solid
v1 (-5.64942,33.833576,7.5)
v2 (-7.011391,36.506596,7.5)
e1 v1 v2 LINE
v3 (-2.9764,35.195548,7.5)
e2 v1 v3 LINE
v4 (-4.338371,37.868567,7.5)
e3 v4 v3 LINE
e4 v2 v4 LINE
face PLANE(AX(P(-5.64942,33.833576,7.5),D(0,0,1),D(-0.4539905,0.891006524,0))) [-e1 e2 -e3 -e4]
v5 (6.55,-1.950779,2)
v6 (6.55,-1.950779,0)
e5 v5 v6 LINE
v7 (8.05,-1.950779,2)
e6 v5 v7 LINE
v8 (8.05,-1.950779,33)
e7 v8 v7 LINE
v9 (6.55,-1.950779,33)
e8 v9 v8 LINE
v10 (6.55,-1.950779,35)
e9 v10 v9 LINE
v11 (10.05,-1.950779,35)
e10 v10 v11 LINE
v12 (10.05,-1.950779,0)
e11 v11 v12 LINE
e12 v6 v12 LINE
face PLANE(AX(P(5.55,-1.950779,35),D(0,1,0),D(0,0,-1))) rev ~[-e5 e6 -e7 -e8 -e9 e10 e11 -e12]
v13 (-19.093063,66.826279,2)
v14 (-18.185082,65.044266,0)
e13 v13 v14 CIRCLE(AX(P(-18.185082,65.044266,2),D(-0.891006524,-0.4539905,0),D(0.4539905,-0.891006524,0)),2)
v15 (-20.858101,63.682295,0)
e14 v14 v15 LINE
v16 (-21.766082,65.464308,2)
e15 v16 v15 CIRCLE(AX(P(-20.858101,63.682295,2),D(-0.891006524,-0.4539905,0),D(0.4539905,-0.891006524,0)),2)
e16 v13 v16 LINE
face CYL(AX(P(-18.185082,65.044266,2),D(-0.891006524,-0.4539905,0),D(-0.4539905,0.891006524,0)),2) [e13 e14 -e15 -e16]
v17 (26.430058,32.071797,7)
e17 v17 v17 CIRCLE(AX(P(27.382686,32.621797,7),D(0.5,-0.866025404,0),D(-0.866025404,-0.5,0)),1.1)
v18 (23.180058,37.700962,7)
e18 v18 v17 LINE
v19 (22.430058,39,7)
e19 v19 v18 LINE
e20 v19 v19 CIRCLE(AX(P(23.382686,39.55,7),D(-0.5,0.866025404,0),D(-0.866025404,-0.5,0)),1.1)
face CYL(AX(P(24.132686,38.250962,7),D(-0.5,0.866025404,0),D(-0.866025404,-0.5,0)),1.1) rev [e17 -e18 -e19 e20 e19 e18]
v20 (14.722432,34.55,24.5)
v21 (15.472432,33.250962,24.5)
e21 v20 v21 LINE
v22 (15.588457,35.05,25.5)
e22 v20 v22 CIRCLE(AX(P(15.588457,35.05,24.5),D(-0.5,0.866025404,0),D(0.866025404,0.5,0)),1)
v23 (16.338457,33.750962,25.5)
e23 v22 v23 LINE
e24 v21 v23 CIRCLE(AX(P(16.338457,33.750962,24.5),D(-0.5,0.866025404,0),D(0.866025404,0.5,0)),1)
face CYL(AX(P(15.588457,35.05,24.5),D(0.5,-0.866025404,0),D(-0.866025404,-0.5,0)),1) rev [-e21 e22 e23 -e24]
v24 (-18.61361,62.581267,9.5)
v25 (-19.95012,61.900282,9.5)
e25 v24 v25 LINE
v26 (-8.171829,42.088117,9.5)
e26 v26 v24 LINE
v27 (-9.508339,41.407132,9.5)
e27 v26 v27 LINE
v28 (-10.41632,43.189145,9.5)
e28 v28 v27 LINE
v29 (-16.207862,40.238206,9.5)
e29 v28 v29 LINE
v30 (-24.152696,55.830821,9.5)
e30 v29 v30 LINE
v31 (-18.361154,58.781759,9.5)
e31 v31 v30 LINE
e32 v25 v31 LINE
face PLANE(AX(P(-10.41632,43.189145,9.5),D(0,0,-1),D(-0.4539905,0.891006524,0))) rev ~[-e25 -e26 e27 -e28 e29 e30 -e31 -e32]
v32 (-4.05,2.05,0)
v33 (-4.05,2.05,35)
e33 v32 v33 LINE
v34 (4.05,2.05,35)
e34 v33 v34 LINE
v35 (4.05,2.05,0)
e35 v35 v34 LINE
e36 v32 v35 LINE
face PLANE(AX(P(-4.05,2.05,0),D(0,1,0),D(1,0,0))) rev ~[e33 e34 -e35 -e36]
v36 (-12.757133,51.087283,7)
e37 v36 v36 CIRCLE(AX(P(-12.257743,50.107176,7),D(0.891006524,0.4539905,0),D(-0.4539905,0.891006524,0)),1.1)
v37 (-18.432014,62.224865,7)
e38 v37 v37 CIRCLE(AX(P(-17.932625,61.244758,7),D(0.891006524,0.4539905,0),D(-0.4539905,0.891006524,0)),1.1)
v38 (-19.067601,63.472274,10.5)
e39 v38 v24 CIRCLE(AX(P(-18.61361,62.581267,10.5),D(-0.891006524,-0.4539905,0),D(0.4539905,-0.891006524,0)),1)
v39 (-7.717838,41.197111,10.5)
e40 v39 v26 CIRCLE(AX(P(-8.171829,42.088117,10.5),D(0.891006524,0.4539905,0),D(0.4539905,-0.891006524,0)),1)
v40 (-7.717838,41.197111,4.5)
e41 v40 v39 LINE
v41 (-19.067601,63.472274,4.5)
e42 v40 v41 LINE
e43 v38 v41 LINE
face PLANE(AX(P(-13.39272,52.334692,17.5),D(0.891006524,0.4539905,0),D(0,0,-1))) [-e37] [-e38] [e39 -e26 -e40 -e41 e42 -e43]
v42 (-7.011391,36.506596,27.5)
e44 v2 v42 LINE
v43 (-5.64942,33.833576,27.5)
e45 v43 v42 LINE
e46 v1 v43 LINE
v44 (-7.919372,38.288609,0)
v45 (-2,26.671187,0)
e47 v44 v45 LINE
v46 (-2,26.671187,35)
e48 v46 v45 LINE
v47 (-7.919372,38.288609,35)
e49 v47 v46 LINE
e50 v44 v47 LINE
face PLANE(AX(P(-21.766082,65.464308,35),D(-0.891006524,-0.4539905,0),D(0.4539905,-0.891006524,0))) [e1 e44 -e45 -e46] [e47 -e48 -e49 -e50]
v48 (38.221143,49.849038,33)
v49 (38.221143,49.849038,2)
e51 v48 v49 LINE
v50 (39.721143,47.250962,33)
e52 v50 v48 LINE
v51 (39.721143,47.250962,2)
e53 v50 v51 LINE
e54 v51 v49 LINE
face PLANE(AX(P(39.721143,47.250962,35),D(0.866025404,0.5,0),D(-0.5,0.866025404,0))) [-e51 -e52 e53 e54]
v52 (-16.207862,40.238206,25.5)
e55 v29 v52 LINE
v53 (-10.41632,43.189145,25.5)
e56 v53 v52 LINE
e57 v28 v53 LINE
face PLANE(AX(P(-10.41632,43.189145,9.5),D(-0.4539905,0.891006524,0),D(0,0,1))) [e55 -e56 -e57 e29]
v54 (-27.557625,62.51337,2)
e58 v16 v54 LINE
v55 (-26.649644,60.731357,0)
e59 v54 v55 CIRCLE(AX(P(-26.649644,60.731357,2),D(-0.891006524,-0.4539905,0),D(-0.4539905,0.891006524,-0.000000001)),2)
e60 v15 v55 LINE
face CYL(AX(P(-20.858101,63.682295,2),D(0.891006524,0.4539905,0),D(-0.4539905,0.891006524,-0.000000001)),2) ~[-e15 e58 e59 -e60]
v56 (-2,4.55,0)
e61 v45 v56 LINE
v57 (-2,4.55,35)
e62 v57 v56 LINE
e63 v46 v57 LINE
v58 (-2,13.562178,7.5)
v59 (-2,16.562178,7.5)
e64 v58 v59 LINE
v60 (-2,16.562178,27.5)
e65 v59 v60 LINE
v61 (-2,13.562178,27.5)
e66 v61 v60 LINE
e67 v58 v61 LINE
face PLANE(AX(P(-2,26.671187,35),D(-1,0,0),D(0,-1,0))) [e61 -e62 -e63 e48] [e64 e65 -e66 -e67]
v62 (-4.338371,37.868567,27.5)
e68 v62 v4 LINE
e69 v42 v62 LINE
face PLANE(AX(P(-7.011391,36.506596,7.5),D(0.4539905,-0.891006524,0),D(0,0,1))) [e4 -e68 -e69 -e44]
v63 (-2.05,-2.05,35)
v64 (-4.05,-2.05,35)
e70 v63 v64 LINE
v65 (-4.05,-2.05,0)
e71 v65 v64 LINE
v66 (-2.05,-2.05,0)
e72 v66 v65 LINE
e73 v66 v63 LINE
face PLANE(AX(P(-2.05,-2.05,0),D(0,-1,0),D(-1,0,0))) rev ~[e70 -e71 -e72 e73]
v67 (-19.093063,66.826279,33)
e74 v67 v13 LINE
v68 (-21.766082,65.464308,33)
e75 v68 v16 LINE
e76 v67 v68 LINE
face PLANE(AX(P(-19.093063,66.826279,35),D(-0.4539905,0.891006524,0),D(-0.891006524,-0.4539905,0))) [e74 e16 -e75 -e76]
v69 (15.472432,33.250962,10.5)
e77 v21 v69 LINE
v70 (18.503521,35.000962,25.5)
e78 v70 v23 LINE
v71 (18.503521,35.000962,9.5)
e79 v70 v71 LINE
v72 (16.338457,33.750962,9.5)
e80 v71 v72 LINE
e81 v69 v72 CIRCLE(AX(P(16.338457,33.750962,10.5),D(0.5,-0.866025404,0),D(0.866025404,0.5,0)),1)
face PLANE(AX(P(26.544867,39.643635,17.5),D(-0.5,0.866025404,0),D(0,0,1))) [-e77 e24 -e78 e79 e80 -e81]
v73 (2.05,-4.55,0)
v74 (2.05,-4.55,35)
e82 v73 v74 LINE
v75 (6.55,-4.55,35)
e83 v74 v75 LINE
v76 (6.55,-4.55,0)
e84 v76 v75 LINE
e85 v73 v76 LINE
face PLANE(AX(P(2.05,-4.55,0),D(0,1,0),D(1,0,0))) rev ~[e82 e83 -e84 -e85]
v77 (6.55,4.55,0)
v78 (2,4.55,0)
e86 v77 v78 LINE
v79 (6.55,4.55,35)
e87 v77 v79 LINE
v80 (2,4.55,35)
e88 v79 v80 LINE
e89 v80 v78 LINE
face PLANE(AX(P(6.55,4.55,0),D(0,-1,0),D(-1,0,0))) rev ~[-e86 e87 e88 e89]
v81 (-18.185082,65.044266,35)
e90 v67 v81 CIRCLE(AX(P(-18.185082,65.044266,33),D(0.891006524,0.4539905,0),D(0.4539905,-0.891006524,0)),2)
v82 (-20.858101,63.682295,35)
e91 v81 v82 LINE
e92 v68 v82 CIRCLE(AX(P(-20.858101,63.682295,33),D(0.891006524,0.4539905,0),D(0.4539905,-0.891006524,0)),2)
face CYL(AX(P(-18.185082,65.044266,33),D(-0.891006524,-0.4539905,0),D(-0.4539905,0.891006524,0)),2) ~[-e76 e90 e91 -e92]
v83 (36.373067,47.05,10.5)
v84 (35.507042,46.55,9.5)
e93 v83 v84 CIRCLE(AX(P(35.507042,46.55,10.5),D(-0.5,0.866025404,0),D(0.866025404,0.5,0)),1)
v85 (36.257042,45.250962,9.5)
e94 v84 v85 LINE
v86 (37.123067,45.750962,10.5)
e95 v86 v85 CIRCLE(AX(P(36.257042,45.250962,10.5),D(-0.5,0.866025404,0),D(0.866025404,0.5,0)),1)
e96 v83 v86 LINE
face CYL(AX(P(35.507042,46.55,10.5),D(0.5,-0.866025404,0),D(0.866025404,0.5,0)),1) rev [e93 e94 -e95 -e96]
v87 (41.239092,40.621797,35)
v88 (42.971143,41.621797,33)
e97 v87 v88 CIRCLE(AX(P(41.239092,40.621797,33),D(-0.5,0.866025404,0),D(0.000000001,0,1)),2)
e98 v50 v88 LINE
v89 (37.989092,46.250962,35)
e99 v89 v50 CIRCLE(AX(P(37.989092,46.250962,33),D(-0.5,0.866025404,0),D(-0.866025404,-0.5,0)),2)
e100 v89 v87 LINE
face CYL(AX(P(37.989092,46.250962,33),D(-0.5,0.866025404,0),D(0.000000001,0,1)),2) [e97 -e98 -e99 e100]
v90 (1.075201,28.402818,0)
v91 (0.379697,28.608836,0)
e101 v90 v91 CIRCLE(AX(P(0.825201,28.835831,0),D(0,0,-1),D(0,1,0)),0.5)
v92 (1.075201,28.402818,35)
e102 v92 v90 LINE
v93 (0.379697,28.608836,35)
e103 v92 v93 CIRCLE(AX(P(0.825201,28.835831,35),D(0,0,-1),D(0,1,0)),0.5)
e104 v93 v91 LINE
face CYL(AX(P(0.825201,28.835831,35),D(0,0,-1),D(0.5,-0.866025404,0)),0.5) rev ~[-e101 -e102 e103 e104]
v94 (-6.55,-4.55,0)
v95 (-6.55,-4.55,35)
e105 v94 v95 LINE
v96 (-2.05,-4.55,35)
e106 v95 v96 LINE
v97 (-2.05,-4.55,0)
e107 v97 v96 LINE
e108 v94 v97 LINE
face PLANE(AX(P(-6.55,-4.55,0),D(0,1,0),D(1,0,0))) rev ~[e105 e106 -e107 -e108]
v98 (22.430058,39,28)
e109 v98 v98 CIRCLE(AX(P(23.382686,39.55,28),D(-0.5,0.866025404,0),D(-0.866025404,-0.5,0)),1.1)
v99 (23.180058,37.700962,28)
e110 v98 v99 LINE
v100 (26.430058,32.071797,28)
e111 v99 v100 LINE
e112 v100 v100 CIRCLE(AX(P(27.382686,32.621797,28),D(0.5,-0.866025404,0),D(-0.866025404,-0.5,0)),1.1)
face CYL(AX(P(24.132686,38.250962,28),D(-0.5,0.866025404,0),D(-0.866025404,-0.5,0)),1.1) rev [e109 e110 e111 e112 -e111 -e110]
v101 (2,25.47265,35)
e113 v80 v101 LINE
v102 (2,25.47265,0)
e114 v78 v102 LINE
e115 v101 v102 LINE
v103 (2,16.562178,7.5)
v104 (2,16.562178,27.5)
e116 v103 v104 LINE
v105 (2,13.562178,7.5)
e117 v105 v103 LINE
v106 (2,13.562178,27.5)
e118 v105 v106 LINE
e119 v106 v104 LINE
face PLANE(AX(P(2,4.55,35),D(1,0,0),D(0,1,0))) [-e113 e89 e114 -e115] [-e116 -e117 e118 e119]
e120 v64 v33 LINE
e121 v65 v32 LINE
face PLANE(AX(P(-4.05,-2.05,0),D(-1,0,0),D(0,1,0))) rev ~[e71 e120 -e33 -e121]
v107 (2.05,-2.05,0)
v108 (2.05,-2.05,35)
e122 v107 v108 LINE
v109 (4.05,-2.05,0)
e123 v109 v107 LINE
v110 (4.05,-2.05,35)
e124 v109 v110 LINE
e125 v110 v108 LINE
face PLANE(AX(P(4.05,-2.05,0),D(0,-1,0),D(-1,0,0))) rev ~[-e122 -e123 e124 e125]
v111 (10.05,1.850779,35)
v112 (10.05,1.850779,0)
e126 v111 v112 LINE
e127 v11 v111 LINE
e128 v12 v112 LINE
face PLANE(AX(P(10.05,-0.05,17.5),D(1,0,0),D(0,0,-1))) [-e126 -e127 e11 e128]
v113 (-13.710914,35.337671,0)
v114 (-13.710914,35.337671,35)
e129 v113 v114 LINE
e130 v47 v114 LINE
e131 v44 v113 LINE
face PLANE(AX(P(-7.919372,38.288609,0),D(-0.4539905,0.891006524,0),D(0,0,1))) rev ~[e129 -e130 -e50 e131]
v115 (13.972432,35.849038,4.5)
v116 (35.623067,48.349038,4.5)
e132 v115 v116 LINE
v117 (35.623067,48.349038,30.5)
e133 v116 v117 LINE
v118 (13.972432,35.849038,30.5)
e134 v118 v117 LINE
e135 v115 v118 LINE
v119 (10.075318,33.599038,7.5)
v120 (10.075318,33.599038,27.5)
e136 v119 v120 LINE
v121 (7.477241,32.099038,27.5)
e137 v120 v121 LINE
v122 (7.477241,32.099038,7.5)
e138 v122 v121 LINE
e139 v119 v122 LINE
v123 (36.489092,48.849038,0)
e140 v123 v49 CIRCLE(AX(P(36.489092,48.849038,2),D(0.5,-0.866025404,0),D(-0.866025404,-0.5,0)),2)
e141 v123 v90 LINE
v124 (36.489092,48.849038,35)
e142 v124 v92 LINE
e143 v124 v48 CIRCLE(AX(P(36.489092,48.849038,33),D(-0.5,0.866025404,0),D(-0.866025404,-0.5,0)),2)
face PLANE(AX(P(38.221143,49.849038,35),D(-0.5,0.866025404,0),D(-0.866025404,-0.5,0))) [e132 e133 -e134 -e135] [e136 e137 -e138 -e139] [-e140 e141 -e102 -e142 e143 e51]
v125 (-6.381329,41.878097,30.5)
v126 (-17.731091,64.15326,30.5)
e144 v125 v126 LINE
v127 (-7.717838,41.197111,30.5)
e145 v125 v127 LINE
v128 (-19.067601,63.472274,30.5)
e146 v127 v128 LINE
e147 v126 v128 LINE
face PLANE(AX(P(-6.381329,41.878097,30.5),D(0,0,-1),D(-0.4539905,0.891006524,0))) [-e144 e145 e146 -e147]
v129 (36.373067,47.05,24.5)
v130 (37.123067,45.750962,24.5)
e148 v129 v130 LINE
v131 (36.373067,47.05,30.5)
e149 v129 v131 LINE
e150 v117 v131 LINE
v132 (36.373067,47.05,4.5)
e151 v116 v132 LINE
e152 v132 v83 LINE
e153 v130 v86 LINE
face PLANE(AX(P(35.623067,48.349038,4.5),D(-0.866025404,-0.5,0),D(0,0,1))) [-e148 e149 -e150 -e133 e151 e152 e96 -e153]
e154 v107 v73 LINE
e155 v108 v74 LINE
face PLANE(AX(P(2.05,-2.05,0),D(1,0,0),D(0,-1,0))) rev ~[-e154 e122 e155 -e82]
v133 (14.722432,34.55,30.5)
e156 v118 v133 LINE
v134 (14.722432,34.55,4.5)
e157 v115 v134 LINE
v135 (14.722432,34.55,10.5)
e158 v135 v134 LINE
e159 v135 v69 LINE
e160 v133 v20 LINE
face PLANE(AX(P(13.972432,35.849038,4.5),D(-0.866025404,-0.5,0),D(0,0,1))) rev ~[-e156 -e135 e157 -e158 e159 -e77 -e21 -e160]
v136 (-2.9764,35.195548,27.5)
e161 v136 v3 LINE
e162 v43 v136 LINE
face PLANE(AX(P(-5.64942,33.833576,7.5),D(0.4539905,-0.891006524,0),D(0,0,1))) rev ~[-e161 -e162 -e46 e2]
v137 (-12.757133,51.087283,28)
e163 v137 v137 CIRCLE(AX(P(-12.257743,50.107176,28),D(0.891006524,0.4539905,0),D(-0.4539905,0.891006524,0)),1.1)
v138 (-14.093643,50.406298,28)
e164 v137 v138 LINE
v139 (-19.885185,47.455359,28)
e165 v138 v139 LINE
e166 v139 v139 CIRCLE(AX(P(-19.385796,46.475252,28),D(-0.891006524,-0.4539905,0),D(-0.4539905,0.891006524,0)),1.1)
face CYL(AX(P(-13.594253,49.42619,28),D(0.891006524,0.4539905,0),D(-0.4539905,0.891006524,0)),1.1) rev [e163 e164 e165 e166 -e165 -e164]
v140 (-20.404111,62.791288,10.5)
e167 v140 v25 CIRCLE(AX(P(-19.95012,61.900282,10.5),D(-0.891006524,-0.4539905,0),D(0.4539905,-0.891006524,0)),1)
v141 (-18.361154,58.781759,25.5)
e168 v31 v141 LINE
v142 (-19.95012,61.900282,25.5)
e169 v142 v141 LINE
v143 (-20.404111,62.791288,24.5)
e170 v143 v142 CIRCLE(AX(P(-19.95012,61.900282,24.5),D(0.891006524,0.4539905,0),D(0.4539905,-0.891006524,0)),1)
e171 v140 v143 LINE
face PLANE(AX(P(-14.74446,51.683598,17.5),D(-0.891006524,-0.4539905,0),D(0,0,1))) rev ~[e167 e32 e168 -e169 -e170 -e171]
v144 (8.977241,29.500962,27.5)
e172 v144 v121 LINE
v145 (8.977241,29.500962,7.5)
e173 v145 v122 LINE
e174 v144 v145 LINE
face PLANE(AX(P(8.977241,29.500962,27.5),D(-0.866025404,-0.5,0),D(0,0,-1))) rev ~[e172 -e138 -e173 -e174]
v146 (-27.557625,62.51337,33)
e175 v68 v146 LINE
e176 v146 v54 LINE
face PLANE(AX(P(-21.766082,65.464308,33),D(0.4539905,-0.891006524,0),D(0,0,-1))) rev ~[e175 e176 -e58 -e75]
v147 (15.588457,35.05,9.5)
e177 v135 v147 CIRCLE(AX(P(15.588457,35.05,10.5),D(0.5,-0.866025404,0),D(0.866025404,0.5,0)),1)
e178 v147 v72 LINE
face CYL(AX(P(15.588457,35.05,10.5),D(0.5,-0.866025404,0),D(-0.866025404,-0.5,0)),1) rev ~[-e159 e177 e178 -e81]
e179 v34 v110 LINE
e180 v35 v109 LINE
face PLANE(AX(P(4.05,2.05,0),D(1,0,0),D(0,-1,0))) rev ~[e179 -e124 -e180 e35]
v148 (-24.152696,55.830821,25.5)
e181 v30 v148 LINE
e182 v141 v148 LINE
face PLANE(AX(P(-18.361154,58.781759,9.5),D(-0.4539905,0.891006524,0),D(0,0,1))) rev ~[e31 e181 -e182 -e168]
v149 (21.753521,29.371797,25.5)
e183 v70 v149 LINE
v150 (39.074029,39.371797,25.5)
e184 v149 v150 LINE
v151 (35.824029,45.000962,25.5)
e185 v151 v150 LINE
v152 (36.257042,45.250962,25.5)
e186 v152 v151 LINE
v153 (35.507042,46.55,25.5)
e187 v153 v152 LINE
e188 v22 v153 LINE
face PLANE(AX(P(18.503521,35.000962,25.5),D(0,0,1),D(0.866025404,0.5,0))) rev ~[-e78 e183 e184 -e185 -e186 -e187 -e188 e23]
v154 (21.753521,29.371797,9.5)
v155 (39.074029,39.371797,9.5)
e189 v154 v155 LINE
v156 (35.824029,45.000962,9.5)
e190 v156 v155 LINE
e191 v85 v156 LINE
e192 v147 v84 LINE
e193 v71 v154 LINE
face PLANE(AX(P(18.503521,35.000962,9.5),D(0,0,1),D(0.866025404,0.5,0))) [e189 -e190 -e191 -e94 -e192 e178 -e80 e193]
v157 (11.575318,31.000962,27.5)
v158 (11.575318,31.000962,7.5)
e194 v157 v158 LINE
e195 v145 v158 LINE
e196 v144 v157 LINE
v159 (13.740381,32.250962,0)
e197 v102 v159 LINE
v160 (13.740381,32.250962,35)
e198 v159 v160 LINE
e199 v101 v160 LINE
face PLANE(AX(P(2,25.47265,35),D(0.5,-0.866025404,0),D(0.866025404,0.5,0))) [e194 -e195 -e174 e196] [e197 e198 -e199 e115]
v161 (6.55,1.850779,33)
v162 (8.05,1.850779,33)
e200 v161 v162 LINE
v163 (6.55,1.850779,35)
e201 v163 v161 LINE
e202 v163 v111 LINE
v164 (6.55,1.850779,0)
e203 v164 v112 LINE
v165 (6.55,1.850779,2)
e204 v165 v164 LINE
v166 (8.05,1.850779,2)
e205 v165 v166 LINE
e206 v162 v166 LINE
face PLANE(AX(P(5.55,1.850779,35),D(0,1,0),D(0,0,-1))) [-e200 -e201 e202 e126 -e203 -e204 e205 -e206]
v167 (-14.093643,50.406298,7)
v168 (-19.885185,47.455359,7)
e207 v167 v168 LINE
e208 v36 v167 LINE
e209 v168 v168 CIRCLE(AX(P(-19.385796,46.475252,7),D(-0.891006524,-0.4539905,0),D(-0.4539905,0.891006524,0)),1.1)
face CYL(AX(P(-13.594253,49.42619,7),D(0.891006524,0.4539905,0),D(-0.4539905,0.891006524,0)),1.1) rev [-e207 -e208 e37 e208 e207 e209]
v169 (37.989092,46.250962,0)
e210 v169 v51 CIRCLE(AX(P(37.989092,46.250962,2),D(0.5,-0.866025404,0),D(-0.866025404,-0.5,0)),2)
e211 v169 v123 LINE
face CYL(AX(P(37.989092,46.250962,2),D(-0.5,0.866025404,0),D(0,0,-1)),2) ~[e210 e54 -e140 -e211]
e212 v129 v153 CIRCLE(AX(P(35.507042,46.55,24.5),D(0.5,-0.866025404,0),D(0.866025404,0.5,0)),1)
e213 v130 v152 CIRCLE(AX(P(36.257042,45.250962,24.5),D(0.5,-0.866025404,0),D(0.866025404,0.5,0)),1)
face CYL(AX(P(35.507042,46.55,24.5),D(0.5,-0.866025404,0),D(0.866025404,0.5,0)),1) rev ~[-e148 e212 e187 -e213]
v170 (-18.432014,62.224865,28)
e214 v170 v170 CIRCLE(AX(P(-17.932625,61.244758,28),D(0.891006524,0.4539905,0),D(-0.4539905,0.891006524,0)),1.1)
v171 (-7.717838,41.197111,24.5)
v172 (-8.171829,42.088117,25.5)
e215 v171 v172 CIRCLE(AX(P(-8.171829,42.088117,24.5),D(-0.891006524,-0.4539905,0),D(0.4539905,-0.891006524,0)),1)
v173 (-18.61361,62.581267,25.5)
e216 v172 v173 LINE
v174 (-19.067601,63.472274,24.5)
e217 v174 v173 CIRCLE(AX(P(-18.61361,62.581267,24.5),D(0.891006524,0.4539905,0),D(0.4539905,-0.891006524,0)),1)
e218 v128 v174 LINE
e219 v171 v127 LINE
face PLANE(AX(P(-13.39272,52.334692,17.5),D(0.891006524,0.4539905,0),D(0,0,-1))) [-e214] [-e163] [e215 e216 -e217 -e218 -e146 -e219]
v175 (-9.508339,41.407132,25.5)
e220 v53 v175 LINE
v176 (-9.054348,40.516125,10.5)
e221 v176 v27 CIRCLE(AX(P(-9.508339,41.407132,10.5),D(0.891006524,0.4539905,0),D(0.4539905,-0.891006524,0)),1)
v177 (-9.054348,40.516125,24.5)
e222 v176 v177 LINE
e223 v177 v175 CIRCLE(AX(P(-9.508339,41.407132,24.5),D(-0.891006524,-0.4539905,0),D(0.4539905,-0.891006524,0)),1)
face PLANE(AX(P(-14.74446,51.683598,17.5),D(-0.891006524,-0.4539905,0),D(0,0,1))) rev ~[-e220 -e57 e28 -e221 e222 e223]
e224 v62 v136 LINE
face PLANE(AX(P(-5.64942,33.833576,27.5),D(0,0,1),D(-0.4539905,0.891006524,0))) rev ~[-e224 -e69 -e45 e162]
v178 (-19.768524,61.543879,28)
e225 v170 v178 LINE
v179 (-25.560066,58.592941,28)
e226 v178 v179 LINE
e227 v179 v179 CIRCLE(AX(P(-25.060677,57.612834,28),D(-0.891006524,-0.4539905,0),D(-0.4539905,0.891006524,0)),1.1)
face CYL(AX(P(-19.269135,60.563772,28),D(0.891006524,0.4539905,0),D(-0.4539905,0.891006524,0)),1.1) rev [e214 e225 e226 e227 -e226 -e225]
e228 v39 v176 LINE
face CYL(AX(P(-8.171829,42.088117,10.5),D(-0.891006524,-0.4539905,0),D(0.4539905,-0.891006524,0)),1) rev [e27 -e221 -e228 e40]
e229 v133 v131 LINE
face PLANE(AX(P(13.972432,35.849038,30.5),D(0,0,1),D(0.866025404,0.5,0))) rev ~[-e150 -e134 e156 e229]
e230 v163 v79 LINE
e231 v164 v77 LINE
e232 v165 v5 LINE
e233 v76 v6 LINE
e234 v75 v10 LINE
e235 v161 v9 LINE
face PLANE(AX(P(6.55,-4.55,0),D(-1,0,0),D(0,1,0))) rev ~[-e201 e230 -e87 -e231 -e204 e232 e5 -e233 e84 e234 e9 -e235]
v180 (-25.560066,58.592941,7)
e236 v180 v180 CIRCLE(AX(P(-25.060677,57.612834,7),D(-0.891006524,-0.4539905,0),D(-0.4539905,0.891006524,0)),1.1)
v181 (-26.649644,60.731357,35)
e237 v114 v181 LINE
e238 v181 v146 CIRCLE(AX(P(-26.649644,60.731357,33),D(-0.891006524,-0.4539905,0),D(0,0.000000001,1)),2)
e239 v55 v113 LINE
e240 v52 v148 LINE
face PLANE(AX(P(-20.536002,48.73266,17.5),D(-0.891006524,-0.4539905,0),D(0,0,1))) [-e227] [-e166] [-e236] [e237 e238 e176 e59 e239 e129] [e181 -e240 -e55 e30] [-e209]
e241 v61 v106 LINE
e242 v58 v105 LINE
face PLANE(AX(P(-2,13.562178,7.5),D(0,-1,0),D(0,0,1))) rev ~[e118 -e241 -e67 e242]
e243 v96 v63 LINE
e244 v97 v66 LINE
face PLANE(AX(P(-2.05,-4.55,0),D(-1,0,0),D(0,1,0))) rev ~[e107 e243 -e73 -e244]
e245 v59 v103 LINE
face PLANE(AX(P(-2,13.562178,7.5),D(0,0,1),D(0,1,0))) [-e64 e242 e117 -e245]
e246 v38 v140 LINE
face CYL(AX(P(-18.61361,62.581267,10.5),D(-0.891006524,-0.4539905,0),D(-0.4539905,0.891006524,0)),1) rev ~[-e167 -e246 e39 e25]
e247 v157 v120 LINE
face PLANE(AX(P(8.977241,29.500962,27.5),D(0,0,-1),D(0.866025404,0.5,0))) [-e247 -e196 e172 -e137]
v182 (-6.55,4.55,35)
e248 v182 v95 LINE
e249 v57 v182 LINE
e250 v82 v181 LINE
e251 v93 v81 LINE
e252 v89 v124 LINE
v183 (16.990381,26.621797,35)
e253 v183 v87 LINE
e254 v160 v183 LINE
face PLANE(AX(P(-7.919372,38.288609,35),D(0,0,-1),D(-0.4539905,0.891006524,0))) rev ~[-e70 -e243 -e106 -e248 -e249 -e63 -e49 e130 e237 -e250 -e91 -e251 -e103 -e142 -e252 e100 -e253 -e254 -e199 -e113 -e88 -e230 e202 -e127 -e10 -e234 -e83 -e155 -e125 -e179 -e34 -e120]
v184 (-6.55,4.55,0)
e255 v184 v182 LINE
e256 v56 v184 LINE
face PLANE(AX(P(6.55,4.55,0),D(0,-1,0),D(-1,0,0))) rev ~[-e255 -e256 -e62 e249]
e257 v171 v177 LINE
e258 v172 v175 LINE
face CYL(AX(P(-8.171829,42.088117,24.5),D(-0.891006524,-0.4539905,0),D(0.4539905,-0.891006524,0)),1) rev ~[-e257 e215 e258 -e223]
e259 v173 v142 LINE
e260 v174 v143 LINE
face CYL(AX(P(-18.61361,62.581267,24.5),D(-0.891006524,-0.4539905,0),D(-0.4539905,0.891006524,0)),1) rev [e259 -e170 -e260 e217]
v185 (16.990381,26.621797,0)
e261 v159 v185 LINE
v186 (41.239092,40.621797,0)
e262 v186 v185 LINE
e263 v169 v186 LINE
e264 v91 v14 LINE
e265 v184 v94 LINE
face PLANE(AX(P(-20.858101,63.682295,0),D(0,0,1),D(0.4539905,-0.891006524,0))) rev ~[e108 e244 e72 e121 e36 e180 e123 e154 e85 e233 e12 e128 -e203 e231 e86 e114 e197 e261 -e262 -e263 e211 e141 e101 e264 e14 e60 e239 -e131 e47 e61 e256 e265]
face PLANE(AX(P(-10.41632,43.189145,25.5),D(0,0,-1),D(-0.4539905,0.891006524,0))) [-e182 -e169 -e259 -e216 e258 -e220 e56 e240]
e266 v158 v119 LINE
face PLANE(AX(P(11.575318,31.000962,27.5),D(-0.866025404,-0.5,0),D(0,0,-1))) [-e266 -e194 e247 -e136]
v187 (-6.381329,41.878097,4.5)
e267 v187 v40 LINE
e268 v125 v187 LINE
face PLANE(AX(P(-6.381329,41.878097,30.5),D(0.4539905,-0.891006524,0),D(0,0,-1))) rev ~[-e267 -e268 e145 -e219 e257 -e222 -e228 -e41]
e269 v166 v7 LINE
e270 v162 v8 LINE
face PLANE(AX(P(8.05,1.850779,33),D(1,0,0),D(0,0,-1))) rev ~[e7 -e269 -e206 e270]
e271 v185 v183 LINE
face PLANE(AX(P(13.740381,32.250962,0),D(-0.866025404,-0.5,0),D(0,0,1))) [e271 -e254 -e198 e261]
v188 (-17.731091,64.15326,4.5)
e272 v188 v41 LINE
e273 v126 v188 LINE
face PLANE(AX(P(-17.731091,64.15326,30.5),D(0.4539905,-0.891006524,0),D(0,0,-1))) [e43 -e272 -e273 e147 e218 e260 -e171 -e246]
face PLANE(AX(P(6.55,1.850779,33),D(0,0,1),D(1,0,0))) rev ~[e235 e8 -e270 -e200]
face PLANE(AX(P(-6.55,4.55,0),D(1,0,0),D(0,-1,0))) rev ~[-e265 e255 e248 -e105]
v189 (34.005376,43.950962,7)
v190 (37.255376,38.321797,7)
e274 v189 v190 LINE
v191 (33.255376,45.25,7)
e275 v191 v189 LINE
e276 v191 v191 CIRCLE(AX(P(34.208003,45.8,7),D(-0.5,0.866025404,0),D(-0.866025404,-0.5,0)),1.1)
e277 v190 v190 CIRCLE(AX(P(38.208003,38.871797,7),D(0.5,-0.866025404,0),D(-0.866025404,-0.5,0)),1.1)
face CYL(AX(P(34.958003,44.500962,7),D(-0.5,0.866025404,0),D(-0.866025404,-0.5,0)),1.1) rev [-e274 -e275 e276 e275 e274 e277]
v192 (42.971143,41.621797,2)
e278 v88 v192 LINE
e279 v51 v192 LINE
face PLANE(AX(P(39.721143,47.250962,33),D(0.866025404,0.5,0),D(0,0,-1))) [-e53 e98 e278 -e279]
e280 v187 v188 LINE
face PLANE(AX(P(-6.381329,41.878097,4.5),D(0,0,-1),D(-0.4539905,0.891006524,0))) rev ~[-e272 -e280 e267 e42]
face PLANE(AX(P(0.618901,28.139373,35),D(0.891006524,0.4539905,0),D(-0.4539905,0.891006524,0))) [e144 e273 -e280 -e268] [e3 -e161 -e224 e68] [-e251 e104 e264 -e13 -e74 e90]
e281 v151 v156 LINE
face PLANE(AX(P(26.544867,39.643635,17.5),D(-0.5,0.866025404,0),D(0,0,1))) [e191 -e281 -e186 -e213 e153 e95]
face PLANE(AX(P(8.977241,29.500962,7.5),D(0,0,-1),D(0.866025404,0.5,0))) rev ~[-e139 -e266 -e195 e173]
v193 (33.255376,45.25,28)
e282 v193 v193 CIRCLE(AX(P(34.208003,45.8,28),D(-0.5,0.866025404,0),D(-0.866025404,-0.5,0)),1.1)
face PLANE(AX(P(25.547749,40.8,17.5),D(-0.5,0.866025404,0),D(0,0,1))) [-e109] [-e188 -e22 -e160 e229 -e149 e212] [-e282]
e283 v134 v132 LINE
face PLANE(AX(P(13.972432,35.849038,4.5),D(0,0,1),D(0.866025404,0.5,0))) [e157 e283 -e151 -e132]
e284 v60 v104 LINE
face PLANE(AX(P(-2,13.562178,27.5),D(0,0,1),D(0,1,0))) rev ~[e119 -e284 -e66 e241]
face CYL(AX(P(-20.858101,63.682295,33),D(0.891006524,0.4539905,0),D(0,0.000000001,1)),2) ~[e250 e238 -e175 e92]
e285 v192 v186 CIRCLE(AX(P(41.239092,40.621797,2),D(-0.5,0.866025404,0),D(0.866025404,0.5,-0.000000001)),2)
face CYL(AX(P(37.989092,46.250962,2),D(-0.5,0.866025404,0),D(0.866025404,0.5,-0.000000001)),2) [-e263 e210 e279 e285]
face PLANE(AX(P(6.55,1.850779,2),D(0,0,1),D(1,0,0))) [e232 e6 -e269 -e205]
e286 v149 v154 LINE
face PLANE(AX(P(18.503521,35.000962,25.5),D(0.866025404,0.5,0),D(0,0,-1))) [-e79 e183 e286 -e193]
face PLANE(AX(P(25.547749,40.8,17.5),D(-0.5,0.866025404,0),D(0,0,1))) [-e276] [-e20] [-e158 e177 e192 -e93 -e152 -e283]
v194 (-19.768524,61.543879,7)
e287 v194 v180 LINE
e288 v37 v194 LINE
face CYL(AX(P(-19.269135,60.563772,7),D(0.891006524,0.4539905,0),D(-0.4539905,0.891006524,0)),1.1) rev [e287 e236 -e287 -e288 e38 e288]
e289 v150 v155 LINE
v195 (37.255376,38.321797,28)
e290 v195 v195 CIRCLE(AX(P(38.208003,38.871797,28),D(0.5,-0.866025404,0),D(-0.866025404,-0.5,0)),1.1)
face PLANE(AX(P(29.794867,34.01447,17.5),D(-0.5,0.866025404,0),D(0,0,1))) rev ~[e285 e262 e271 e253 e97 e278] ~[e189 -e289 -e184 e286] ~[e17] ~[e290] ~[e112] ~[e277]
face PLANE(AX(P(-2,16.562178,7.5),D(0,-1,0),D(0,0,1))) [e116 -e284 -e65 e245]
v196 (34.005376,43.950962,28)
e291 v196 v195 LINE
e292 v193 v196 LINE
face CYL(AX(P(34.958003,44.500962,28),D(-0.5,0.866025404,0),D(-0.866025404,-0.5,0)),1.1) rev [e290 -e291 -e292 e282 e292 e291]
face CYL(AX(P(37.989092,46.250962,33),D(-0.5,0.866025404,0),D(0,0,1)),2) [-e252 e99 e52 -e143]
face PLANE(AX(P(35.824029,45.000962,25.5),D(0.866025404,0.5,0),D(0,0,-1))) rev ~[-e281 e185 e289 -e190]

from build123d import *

# Parameters (mm, degrees)
BOSS_EXTRUDE1_DEPTH      = 35
BOSS_EXTRUDE2_DEPTH      = 35
FILLET1_R                = 0.5
SKETCH3_W                = 26
SKETCH3_H                = 25
CUT_EXTRUDE1_DEPTH       = 1.5
SKETCH4_W                = 16
SKETCH4_H                = 25
CUT_EXTRUDE2_DEPTH       = 2
FILLET3_R                = 1
SKETCH5_W                = 26
SKETCH5_H                = 25
CUT_EXTRUDE3_DEPTH       = 1.5
SKETCH6_W                = 16
SKETCH6_H                = 25
CUT_EXTRUDE4_DEPTH       = 2
FILLET4_R                = 1
SKETCH8_W                = 20
SKETCH8_H                = 3
CUT_EXTRUDE5_DEPTH       = 4
SKETCH9_W                = 20
SKETCH9_H                = 3
CUT_EXTRUDE6_DEPTH       = 4
SKETCH10_W               = 20
SKETCH10_H               = 3
CUT_EXTRUDE7_DEPTH       = 4
SKETCH11_R               = 1.1
CUT_EXTRUDE8_DEPTH       = 10
SKETCH12_R               = 1.1
CUT_EXTRUDE9_DEPTH       = 5
FILLET7_R                = 2
BOSS_EXTRUDE3_DEPTH      = 3.5
BOSS_EXTRUDE3_DEPTH_BACK = 1
SKETCH14_W               = 35
SKETCH14_H               = 3.801557548
SKETCH15_W               = 1.5
SKETCH15_H               = 31
CUT_EXTRUDE10_DEPTH      = 5
SKETCH18_R               = 1.1
SKETCH18_W               = 16
SKETCH18_H               = 20
BOSS_EXTRUDE4_DEPTH      = 6.5
SKETCH19_R               = 1.1
SKETCH19_W               = 16
SKETCH19_H               = 17.5
BOSS_EXTRUDE5_DEPTH      = 6.5


with BuildPart() as part:
    # Sketch1 → Boss-Extrude1 (new body)
    with BuildSketch(Plane.XY):
        Polygon((6.55, 4.55), (-6.55, 4.55), (-6.55, -4.55), (-2.05, -4.55), (-2.05, -2.05), (-4.05, -2.05), (-4.05, 2.05), (4.05, 2.05), (4.05, -2.05), (2.05, -2.05), (2.05, -4.55), (6.55, -4.55), align=None)
    extrude(amount=BOSS_EXTRUDE1_DEPTH)

    # Sketch2 → Boss-Extrude2 (add, through all)
    with BuildSketch(Plane.XY.offset(35)):
        Polygon((2, 4.55), (2, 25.472649731), (39.72114317, 47.250961894), (38.22114317, 49.849038106), (0.618900538, 28.1393732), (-19.093062702, 66.826279338), (-21.766082275, 65.464307839), (-2, 26.671187114), (-2, 4.55), align=None)
    extrude(amount=-BOSS_EXTRUDE2_DEPTH)

    # Fillet1
    fillet1_edges = [part.edges().sort_by_distance(p)[0] for p in [
        (0.618900538, 28.1393732, 17.5),
    ]]
    fillet(fillet1_edges, radius=FILLET1_R)

    # Sketch3 → Cut-Extrude1 (cut)
    with BuildSketch(Plane(origin=(-12.029980884, 20.836538106, 0), x_dir=(0, 0, 1), z_dir=(-0.4999999999999978, 0.8660254037844398, 0))):
        with Locations((17.5, 42.525)):
            Rectangle(SKETCH3_W, SKETCH3_H)
    extrude(amount=-CUT_EXTRUDE1_DEPTH, mode=Mode.SUBTRACT)

    # Sketch4 → Cut-Extrude2 (cut)
    with BuildSketch(Plane(origin=(-11.279980884, 19.5375, 0), x_dir=(0, 0, 1), z_dir=(-0.49999999999999795, 0.8660254037844399, 0))):
        with Locations((17.5, 42.525)):
            Rectangle(SKETCH4_W, SKETCH4_H)
    extrude(amount=-CUT_EXTRUDE2_DEPTH, mode=Mode.SUBTRACT)

    # Fillet3
    fillet3_edges = [part.edges().sort_by_distance(p)[0] for p in [
        (36.748066959, 46.400480947, 9.5),
        (36.748066959, 46.400480947, 25.5),
        (15.097431864, 33.900480947, 25.5),
        (15.097431864, 33.900480947, 9.5),
    ]]
    fillet(fillet3_edges, radius=FILLET3_R)

    # Sketch5 → Cut-Extrude3 (cut)
    with BuildSketch(Plane(origin=(11.873956138, 6.050082838, 0), x_dir=(0, 0, -1), z_dir=(0.8910065241883675, 0.45399049973954786, 0))):
        with Locations((-17.5, 52.710719955)):
            Rectangle(SKETCH5_W, SKETCH5_H)
    extrude(amount=-CUT_EXTRUDE3_DEPTH, mode=Mode.SUBTRACT)

    # Sketch6 → Cut-Extrude4 (cut)
    with BuildSketch(Plane(origin=(10.537446352, 5.369097089, 0), x_dir=(0, 0, -1), z_dir=(0.8910065241883673, 0.4539904997395479, 0))):
        with Locations((-17.5, 52.710719955)):
            Rectangle(SKETCH6_W, SKETCH6_H)
    extrude(amount=-CUT_EXTRUDE4_DEPTH, mode=Mode.SUBTRACT)

    # Fillet4
    fillet4_edges = [part.edges().sort_by_distance(p)[0] for p in [
        (-19.735855882, 63.131781141, 25.5),
        (-19.735855882, 63.131781141, 9.5),
        (-8.386093389, 40.856618036, 9.5),
        (-8.386093389, 40.856618036, 25.5),
    ]]
    fillet(fillet4_edges, radius=FILLET4_R)

    # Sketch8 → Cut-Extrude5 (cut)
    with BuildSketch(Plane(origin=(-10.529980884, 18.238461894, 0), x_dir=(0, 0, -1), z_dir=(0.49999999999999806, -0.8660254037844399, 0))):
        with Locations((-17.5, 24.025)):
            Rectangle(SKETCH8_W, SKETCH8_H)
    extrude(amount=-CUT_EXTRUDE5_DEPTH, mode=Mode.SUBTRACT)

    # Sketch9 → Cut-Extrude6 (cut)
    with BuildSketch(Plane(origin=(9.200936565, 4.688111339, 0), x_dir=(0, 0, 1), z_dir=(-0.8910065241883675, -0.45399049973954797, 0))):
        with Locations((17.5, 34.210719955)):
            Rectangle(SKETCH9_W, SKETCH9_H)
    extrude(amount=-CUT_EXTRUDE6_DEPTH, mode=Mode.SUBTRACT)

    # Sketch10 → Cut-Extrude7 (cut)
    with BuildSketch(Plane.ZY.offset(2)):
        with Locations((17.5, 15.062177826)):
            Rectangle(SKETCH10_W, SKETCH10_H)
    extrude(amount=-CUT_EXTRUDE7_DEPTH, mode=Mode.SUBTRACT)

    # Sketch11 → Cut-Extrude8 (cut)
    with BuildSketch(Plane(origin=(-11.279980884, 19.5375, 0), x_dir=(0, 0, 1), z_dir=(-0.4999999999999979, 0.8660254037844398, 0))):
        with Locations(Location((28, 52.525, 0), (0, 0, 270))):
            Circle(SKETCH11_R)
        with Locations(Location((7, 52.525, 0), (0, 0, 270))):
            Circle(SKETCH11_R)
        with Locations(Location((28, 40.025, 0), (0, 0, 270))):
            Circle(SKETCH11_R)
        with Locations(Location((7, 40.025, 0), (0, 0, 270))):
            Circle(SKETCH11_R)
    extrude(amount=-CUT_EXTRUDE8_DEPTH, mode=Mode.SUBTRACT)

    # Sketch12 → Cut-Extrude9 (cut)
    with BuildSketch(Plane(origin=(10.537446352, 5.369097089, 0), x_dir=(0, 0, -1), z_dir=(0.8910065241883673, 0.4539904997395479, 0))):
        with Locations(Location((-7, 62.710719955, 0), (0, 0, 90))):
            Circle(SKETCH12_R)
        with Locations(Location((-28, 62.710719955, 0), (0, 0, 90))):
            Circle(SKETCH12_R)
        with Locations(Location((-7, 50.210719955, 0), (0, 0, 90))):
            Circle(SKETCH12_R)
        with Locations(Location((-28, 50.210719955, 0), (0, 0, 90))):
            Circle(SKETCH12_R)
    extrude(amount=-CUT_EXTRUDE9_DEPTH, mode=Mode.SUBTRACT)

    # Fillet7
    fillet7_edges = [part.edges().sort_by_distance(p)[0] for p in [
        (-20.429572488, 66.145293588, 0),
        (38.97114317, 48.55, 0),
        (38.97114317, 48.55, 35),
        (-20.429572488, 66.145293588, 35),
    ]]
    fillet(fillet7_edges, radius=FILLET7_R)

    # Sketch14 → Boss-Extrude3 (add, two sides: drawn at the far end of the back side and taken through both)
    with BuildSketch(Plane(origin=(6.55, 0, 0), x_dir=(0, 0, -1), z_dir=(1, 0, 0)).offset(-BOSS_EXTRUDE3_DEPTH_BACK)):
        with Locations((-17.5, -0.05)):
            Rectangle(SKETCH14_W, SKETCH14_H)
    extrude(amount=BOSS_EXTRUDE3_DEPTH + BOSS_EXTRUDE3_DEPTH_BACK)

    # Sketch15 → Cut-Extrude10 (cut)
    with BuildSketch(Plane(origin=(0, 1.850778774, 0), x_dir=(1, 0, 0), z_dir=(0, 1, 0))):
        with Locations((7.3, -17.5)):
            Rectangle(SKETCH15_W, SKETCH15_H)
    extrude(amount=-CUT_EXTRUDE10_DEPTH, mode=Mode.SUBTRACT)

    # Sketch18 → Boss-Extrude4 (add)
    with BuildSketch(Plane(origin=(-10.529980884, 18.238461894, 0), x_dir=(0, 0, -1), z_dir=(0.49999999999999806, -0.8660254037844398, 0))):
        with BuildLine():
            Line((-35, 28.025), (-35, 56.025))
            ThreePointArc((-35, 56.025), (-34.414213562, 57.439213562), (-33, 58.025))
            Line((-33, 58.025), (-2, 58.025))
            ThreePointArc((-2, 58.025), (-0.585786438, 57.439213562), (0, 56.025))
            Line((0, 56.025), (0, 28.025))
            Line((0, 28.025), (-35, 28.025))
        make_face()
        with Locations(Location((-7, 52.525, 0), (0, 0, 270))):
            Circle(SKETCH18_R, mode=Mode.SUBTRACT)
        with Locations(Location((-7, 40.025, 0), (0, 0, 270))):
            Circle(SKETCH18_R, mode=Mode.SUBTRACT)
        with Locations(Location((-28, 40.025, 0), (0, 0, 270))):
            Circle(SKETCH18_R, mode=Mode.SUBTRACT)
        with Locations(Location((-28, 52.525, 0), (0, 0, 270))):
            Circle(SKETCH18_R, mode=Mode.SUBTRACT)
        with Locations((-17.5, 43.525)):
            Rectangle(SKETCH18_W, SKETCH18_H, mode=Mode.SUBTRACT)
    extrude(amount=BOSS_EXTRUDE4_DEPTH)

    # Sketch19 → Boss-Extrude5 (add)
    with BuildSketch(Plane(origin=(9.200936565, 4.688111339, 0), x_dir=(0, 0, 1), z_dir=(-0.8910065241883673, -0.45399049973954797, 0))):
        with BuildLine():
            Line((33, 68.210719955), (2, 68.210719955))
            ThreePointArc((2, 68.210719955), (0.585786438, 67.624933517), (0, 66.210719955))
            Line((0, 66.210719955), (0, 37.710719955))
            Line((0, 37.710719955), (35, 37.710719955))
            Line((35, 37.710719955), (35, 66.210719955))
            ThreePointArc((35, 66.210719955), (34.414213562, 67.624933517), (33, 68.210719955))
        make_face()
        with Locations(Location((28, 50.210719955, 0), (0, 0, 90))):
            Circle(SKETCH19_R, mode=Mode.SUBTRACT)
        with Locations(Location((7, 50.210719955, 0), (0, 0, 90))):
            Circle(SKETCH19_R, mode=Mode.SUBTRACT)
        with Locations(Location((7, 62.710719955, 0), (0, 0, 90))):
            Circle(SKETCH19_R, mode=Mode.SUBTRACT)
        with Locations(Location((28, 62.710719955, 0), (0, 0, 90))):
            Circle(SKETCH19_R, mode=Mode.SUBTRACT)
        with Locations((17.5, 51.960719955)):
            Rectangle(SKETCH19_W, SKETCH19_H, mode=Mode.SUBTRACT)
    extrude(amount=BOSS_EXTRUDE5_DEPTH)


solid = part.part
